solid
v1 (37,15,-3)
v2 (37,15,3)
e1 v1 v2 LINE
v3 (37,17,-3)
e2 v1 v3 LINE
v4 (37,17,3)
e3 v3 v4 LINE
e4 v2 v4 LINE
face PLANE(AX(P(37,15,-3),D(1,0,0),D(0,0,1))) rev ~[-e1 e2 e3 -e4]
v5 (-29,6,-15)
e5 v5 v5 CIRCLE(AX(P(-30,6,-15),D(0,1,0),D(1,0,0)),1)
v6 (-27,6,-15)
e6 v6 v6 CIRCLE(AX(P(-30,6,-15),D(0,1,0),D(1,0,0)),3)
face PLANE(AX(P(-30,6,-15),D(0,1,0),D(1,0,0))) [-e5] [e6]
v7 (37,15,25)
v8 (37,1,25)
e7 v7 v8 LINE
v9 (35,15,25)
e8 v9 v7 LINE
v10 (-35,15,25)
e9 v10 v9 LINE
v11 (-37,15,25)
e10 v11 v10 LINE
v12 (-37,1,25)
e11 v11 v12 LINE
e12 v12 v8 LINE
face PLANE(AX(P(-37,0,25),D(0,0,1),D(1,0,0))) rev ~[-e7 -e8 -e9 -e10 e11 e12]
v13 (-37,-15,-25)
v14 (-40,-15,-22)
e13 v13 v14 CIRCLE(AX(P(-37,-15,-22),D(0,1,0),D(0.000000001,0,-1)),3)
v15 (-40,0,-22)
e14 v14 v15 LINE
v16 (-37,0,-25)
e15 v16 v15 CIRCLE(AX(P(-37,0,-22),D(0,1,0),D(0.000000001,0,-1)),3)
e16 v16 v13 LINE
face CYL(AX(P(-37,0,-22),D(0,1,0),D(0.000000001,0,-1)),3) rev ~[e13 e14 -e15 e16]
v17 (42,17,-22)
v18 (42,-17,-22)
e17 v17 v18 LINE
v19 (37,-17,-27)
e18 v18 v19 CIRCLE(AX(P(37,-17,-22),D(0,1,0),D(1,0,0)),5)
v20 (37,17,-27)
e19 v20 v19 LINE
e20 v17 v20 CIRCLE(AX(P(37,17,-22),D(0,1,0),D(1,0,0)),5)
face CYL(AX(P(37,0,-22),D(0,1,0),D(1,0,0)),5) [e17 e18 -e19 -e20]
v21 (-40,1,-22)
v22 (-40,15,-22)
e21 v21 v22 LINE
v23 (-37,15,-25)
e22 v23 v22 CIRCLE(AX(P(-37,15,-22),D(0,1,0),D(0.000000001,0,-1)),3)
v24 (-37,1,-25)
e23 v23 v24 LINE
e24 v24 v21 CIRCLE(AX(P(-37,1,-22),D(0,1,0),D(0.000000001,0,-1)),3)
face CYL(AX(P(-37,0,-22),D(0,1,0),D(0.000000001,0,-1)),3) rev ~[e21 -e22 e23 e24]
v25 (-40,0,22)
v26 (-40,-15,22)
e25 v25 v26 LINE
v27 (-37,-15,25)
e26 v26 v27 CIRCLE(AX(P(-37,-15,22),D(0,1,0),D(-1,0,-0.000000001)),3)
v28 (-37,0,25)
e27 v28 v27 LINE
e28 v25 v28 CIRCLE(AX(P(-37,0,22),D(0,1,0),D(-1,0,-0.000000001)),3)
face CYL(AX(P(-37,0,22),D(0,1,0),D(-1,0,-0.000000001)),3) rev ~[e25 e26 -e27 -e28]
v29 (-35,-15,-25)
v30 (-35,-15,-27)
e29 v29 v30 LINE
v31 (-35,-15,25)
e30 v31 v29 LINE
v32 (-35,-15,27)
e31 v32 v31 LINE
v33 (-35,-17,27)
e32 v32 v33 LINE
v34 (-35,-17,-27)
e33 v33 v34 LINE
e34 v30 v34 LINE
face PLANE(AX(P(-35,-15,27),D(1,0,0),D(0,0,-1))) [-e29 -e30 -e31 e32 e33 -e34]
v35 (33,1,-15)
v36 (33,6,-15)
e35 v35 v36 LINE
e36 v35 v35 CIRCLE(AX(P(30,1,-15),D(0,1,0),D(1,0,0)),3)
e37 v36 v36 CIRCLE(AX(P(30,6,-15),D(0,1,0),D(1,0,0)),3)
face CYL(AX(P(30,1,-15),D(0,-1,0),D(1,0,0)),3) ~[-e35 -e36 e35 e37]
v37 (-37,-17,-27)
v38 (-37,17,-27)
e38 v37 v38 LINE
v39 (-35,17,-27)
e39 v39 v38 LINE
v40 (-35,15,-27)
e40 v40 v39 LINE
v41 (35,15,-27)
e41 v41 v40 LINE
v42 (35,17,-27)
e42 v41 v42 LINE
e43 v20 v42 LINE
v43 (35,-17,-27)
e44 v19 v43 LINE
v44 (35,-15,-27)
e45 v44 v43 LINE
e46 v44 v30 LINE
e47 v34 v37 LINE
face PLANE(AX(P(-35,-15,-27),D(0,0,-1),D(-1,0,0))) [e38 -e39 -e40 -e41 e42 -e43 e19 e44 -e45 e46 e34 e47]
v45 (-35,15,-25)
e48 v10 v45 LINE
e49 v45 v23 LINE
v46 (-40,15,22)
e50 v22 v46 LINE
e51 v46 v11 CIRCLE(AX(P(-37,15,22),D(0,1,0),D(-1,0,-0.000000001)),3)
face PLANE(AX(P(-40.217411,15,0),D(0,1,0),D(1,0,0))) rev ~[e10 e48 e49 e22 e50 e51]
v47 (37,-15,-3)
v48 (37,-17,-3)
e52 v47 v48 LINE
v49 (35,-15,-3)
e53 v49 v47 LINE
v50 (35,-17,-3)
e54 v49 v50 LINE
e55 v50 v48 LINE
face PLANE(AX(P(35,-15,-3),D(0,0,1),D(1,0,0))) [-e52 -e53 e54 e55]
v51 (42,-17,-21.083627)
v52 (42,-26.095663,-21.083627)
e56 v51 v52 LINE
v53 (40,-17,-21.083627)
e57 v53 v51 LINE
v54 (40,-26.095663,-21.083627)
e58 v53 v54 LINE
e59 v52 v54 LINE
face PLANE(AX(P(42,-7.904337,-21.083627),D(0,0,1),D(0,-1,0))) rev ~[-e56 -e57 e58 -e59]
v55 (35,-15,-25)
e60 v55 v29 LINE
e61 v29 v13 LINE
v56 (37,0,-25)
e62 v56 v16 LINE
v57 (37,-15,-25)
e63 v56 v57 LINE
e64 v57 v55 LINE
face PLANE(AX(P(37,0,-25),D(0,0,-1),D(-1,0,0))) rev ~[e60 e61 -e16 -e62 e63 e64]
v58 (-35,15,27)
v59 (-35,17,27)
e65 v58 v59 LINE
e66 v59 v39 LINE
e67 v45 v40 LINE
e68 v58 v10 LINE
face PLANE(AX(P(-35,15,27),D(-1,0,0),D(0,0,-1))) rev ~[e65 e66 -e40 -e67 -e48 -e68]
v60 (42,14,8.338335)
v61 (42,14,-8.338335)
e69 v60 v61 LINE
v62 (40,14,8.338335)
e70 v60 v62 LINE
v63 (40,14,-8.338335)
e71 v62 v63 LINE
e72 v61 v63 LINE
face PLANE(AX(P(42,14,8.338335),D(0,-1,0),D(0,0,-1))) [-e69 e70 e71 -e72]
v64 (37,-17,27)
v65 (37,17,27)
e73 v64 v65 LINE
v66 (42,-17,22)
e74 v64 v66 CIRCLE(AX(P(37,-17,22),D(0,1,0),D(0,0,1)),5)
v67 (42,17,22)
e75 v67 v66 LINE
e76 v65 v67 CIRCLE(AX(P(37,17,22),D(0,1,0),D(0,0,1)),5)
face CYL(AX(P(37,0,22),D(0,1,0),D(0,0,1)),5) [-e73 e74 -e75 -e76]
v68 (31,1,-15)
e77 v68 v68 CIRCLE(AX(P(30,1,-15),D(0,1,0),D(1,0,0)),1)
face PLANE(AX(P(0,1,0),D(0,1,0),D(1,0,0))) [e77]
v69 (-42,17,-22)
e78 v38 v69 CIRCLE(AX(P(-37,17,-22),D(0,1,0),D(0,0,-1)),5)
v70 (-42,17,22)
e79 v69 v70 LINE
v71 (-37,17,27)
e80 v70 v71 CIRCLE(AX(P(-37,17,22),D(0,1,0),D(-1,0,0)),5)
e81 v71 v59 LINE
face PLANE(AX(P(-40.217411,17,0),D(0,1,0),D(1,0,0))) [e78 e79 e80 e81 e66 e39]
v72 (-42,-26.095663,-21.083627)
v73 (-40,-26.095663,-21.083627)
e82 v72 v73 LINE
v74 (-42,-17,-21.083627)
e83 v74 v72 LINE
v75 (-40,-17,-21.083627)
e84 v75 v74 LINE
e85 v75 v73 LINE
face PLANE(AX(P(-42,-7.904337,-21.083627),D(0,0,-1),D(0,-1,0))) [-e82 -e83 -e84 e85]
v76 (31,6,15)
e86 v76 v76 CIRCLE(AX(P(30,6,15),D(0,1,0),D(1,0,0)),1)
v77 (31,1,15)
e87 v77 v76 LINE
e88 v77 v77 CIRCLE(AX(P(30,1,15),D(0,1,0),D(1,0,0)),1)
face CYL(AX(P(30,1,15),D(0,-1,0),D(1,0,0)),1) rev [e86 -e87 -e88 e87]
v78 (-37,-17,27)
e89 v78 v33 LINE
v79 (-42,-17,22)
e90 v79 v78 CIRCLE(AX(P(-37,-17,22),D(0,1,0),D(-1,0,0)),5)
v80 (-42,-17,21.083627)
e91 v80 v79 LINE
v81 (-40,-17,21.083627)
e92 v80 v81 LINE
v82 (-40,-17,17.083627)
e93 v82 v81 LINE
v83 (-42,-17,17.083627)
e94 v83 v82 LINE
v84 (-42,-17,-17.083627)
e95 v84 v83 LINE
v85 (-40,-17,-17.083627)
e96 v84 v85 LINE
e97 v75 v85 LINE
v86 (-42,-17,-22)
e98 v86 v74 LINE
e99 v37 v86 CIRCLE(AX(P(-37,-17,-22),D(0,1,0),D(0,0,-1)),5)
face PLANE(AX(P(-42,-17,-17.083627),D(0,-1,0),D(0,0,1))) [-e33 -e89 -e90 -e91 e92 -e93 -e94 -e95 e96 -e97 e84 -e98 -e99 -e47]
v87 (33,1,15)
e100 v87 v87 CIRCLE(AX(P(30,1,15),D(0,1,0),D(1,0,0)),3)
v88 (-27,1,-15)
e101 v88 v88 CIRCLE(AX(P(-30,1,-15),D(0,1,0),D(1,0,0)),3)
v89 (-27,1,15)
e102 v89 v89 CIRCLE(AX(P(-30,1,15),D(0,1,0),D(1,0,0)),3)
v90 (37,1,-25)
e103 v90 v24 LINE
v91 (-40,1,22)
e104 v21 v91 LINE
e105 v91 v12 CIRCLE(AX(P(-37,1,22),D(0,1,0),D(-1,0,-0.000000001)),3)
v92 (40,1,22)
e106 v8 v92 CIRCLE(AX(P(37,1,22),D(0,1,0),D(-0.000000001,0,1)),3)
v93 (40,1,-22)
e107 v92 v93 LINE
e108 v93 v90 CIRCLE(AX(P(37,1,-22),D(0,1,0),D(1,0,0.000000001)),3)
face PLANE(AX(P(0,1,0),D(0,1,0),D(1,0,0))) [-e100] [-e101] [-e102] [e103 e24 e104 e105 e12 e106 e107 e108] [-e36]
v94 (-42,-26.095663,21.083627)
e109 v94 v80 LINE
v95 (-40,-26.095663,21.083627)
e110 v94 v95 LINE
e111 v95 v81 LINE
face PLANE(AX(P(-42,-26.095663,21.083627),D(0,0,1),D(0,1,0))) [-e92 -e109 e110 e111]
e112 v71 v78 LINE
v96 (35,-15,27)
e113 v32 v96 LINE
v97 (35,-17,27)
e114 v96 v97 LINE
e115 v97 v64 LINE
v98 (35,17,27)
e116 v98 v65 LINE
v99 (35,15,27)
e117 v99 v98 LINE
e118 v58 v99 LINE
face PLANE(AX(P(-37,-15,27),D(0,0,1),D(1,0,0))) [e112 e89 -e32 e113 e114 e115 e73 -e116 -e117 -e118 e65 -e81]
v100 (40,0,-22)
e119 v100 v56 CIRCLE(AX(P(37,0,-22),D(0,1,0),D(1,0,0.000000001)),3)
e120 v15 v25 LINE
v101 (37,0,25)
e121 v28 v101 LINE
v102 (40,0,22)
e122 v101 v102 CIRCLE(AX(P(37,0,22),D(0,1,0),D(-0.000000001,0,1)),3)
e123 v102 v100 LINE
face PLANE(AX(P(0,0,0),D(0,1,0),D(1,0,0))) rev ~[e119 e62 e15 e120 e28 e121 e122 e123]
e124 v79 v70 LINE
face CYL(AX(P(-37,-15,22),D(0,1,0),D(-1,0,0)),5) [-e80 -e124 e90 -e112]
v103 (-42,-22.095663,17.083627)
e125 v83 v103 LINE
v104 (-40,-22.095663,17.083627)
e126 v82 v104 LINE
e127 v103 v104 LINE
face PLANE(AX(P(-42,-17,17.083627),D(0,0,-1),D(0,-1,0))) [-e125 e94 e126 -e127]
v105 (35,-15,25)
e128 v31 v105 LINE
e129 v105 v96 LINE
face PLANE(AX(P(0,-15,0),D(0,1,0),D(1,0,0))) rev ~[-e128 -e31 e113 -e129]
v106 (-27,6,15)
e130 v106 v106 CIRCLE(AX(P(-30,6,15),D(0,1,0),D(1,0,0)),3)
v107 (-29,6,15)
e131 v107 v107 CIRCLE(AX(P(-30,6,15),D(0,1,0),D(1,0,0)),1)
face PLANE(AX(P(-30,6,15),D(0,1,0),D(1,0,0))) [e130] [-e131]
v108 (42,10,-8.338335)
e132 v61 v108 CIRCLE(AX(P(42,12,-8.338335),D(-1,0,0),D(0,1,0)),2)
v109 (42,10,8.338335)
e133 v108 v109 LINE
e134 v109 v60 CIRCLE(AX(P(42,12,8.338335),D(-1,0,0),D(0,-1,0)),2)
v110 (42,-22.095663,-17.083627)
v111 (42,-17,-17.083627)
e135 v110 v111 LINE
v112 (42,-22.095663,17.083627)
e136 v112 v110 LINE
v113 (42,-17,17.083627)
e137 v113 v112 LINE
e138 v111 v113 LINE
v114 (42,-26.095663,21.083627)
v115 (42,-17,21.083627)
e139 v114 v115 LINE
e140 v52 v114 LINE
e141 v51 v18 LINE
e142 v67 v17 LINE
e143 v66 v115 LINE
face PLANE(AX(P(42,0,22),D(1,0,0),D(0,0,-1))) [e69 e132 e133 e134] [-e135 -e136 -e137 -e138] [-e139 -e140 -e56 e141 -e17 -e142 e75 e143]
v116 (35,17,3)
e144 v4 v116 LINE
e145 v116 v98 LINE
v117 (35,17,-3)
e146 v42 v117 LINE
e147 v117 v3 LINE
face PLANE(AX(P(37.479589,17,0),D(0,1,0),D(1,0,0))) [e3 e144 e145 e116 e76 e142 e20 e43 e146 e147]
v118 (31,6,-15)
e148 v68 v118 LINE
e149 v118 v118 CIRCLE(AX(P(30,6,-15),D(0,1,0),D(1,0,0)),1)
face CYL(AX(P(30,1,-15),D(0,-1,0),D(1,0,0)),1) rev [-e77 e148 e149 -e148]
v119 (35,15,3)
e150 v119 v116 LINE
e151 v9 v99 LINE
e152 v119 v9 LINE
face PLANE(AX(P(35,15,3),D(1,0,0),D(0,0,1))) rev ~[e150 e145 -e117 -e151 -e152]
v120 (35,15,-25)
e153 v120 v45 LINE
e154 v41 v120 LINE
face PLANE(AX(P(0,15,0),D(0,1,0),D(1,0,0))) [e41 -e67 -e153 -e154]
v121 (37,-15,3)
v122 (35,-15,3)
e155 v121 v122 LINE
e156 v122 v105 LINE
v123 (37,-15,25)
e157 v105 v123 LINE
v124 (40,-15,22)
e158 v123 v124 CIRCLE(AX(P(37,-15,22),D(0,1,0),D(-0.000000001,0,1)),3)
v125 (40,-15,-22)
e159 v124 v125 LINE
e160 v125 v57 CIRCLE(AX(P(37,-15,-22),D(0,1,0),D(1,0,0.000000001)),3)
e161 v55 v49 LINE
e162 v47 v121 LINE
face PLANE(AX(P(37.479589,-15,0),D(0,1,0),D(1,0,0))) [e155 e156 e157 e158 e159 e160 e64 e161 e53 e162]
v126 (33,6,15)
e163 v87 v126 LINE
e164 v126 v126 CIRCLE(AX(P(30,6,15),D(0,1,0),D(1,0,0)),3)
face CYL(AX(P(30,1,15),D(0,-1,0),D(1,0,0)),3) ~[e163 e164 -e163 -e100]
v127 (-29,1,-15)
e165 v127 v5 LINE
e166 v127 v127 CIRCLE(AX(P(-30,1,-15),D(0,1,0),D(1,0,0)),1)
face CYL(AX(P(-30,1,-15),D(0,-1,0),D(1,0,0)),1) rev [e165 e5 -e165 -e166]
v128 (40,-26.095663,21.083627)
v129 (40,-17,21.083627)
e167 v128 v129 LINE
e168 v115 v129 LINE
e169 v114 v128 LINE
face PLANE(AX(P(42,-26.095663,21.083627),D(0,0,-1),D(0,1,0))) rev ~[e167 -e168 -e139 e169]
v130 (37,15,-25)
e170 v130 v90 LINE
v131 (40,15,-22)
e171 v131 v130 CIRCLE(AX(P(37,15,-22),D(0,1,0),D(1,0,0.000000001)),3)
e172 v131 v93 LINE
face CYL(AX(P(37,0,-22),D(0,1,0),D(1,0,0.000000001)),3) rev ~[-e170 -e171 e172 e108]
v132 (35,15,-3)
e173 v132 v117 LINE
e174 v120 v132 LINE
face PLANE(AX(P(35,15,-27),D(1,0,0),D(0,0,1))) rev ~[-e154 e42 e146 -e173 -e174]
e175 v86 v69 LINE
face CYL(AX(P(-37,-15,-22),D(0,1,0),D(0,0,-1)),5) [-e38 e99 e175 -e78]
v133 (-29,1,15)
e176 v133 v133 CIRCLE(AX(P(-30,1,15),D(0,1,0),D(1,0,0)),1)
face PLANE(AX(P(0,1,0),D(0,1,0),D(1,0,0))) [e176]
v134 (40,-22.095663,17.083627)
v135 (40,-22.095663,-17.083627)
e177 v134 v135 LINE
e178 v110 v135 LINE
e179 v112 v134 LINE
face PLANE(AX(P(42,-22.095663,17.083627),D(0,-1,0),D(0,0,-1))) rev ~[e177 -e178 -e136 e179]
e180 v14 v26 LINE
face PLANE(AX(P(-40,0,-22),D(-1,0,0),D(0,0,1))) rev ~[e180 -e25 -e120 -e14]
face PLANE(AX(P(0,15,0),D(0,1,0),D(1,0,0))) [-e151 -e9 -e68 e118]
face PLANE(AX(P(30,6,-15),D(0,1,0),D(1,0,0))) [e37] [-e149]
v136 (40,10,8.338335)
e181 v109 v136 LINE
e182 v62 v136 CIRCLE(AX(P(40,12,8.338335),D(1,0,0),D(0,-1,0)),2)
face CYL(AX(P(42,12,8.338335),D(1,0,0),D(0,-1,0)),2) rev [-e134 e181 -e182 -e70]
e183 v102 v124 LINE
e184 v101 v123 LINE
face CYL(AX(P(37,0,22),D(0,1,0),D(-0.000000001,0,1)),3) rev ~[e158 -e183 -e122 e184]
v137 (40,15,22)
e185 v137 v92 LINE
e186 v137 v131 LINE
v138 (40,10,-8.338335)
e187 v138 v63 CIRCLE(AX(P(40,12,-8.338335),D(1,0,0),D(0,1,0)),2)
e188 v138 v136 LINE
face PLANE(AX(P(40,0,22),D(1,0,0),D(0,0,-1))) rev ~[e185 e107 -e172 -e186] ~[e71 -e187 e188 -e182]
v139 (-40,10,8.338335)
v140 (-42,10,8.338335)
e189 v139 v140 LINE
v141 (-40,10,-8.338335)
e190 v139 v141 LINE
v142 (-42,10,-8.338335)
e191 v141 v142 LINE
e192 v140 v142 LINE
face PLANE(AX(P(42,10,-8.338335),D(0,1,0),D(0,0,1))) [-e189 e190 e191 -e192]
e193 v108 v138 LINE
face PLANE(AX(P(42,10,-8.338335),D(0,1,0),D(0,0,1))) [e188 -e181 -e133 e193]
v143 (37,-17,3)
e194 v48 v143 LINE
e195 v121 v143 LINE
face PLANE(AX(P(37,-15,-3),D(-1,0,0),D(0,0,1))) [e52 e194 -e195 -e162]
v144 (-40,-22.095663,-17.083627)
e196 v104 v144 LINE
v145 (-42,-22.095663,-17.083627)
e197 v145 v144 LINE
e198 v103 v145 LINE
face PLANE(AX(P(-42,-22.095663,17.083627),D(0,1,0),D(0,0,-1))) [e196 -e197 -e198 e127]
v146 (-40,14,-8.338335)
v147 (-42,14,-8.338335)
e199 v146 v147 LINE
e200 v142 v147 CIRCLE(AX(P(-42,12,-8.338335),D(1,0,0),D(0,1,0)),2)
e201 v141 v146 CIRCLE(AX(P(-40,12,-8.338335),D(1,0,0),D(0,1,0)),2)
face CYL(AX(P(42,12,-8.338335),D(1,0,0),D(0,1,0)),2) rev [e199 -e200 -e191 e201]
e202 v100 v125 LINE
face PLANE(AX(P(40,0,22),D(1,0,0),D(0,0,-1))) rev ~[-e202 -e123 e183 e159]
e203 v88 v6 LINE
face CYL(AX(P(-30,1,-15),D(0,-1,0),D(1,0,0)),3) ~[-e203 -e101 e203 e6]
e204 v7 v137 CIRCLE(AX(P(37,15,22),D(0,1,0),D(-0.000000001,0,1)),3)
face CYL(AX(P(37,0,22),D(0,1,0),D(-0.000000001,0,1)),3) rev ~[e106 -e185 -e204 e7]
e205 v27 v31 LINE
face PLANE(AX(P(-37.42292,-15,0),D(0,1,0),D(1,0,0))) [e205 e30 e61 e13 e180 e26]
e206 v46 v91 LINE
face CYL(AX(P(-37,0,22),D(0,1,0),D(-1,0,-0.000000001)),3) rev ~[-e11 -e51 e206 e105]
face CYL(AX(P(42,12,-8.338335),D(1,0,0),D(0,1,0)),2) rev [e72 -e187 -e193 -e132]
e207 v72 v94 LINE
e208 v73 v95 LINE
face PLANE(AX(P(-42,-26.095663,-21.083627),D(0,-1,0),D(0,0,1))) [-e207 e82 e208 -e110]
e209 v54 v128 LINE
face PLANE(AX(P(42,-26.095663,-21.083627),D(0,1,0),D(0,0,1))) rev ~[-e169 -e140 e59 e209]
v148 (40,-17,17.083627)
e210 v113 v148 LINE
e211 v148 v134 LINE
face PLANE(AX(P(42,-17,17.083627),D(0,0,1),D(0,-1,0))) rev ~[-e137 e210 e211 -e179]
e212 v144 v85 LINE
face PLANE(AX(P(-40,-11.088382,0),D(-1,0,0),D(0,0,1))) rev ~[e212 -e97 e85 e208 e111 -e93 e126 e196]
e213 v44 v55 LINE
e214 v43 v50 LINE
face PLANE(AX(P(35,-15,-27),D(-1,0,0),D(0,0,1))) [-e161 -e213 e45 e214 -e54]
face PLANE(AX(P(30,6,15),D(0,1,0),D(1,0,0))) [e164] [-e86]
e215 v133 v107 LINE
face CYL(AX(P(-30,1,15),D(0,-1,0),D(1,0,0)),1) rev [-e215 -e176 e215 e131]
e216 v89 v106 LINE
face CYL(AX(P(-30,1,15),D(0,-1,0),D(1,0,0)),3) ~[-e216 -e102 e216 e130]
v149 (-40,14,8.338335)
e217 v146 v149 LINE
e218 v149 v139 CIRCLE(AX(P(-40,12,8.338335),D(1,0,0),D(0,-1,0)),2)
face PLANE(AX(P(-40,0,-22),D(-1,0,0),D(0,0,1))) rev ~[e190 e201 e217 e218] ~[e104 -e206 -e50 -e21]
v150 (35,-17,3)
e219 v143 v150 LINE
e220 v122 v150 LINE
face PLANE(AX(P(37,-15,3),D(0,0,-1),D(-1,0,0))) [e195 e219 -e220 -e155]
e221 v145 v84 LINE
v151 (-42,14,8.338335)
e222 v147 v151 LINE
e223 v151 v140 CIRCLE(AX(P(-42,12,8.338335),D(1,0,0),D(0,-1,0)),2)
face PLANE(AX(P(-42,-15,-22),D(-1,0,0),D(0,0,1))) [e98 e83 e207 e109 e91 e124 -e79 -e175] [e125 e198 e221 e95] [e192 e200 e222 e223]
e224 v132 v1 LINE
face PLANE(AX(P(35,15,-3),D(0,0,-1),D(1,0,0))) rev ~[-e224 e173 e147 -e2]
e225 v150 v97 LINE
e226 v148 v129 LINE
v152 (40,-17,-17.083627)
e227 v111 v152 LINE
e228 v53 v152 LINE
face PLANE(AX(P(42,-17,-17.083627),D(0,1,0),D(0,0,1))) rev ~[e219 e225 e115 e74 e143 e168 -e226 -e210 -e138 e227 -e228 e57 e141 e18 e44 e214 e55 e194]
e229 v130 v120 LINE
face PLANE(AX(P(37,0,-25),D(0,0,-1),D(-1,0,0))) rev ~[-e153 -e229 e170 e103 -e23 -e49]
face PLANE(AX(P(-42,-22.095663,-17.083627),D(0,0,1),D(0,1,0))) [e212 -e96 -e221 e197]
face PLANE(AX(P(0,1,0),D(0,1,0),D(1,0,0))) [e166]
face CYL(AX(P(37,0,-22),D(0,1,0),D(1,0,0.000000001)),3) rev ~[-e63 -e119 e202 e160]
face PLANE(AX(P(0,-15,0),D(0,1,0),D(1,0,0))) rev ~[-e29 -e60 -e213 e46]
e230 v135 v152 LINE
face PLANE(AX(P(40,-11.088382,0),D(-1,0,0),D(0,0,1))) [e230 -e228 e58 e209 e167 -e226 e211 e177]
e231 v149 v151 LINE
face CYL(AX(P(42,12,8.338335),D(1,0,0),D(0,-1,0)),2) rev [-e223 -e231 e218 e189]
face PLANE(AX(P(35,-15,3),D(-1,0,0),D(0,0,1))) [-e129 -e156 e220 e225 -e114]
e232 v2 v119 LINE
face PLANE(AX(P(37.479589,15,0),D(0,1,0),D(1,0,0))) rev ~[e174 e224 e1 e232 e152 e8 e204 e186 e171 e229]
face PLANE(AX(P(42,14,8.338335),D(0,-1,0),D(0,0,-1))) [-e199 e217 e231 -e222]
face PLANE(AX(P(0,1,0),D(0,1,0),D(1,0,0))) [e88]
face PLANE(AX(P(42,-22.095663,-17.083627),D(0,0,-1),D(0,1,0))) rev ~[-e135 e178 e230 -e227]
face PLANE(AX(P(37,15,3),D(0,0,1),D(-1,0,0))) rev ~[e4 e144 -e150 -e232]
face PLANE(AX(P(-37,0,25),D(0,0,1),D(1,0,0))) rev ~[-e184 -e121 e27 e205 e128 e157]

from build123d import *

# Parameters (mm, degrees)
EXTRUDE_THIN1_DEPTH      = 15
EXTRUDE_THIN1_DEPTH_BACK = 15
BOSS_EXTRUDE1_DEPTH      = 1
SKETCH3_R                = 3
SKETCH3_R_2              = 1
BOSS_EXTRUDE2_DEPTH      = 5
BOSS_EXTRUDE3_DEPTH      = 2
BOSS_EXTRUDE4_START      = -30
BOSS_EXTRUDE4_DEPTH      = 2
SKETCH5_W                = 34.167254682
SKETCH5_H                = 5.095662734
BOSS_EXTRUDE5_DEPTH      = 2
BOSS_EXTRUDE6_START      = -84
SKETCH5_3_W              = 34.167254682
SKETCH5_3_H              = 5.095662734
BOSS_EXTRUDE6_DEPTH      = 2
CUT_EXTRUDE1_DEPTH       = 85


with BuildPart() as part:
    # Sketch1 → Extrude-Thin1 (new body, two sides)
    with BuildSketch(Plane(origin=(0, 0, 0), x_dir=(1, 0, 0), z_dir=(0, 1, 0))) as extrude_thin1_sk:
        with BuildLine():
            Line((-42, 22), (-42, -22))
            ThreePointArc((-42, -22), (-40.535533906, -25.535533906), (-37, -27))
            Line((-37, -27), (37, -27))
            ThreePointArc((37, -27), (40.535533906, -25.535533906), (42, -22))
            Line((42, -22), (42, 22))
            ThreePointArc((42, 22), (40.535533906, 25.535533906), (37, 27))
            Line((37, 27), (-37, 27))
            ThreePointArc((-37, 27), (-40.535533906, 25.535533906), (-42, 22))
        make_face()
        with BuildLine():
            Line((-40, 22), (-40, -22))
            ThreePointArc((-40, -22), (-39.121320344, -24.121320344), (-37, -25))
            Line((-37, -25), (37, -25))
            ThreePointArc((37, -25), (39.121320344, -24.121320344), (40, -22))
            Line((40, -22), (40, 22))
            ThreePointArc((40, 22), (39.121320344, 24.121320344), (37, 25))
            Line((37, 25), (-37, 25))
            ThreePointArc((-37, 25), (-39.121320344, 24.121320344), (-40, 22))
        make_face(mode=Mode.SUBTRACT)
    extrude(amount=EXTRUDE_THIN1_DEPTH)
    extrude(extrude_thin1_sk.sketch, amount=-EXTRUDE_THIN1_DEPTH_BACK)

    # Sketch1<2> → Boss-Extrude1 (add)
    with BuildSketch(Plane(origin=(0, 0, 0), x_dir=(1, 0, 0), z_dir=(0, 1, 0))):
        with BuildLine():
            Line((-37, -25), (37, -25))
            ThreePointArc((37, -25), (39.121320344, -24.121320344), (40, -22))
            Line((40, -22), (40, 22))
            ThreePointArc((40, 22), (39.121320344, 24.121320344), (37, 25))
            Line((37, 25), (-37, 25))
            ThreePointArc((-37, 25), (-39.121320344, 24.121320344), (-40, 22))
            Line((-40, 22), (-40, -22))
            ThreePointArc((-40, -22), (-39.121320344, -24.121320344), (-37, -25))
        make_face()
    extrude(amount=BOSS_EXTRUDE1_DEPTH)

    # Sketch3 → Boss-Extrude2 (add)
    with BuildSketch(Plane(origin=(0, 1, 0), x_dir=(1, 0, 0), z_dir=(0, 1, 0))):
        with Locations((-30, 15)):
            Circle(SKETCH3_R)
        with Locations((-30, 15)):
            Circle(SKETCH3_R_2, mode=Mode.SUBTRACT)
        with Locations((30, 15)):
            Circle(SKETCH3_R)
        with Locations((30, 15)):
            Circle(SKETCH3_R_2, mode=Mode.SUBTRACT)
        with Locations((30, -15)):
            Circle(SKETCH3_R)
        with Locations((30, -15)):
            Circle(SKETCH3_R_2, mode=Mode.SUBTRACT)
        with Locations((-30, -15)):
            Circle(SKETCH3_R)
        with Locations((-30, -15)):
            Circle(SKETCH3_R_2, mode=Mode.SUBTRACT)
    extrude(amount=BOSS_EXTRUDE2_DEPTH)

    # Sketch4 → Boss-Extrude3 (add)
    with BuildSketch(Plane(origin=(0, 15, 0), x_dir=(1, 0, 0), z_dir=(0, 1, 0))):
        with BuildLine():
            Line((-35, 25), (-35, 27))
            Line((-35, 27), (-37, 27))
            ThreePointArc((-37, 27), (-40.535533906, 25.535533906), (-42, 22))
            Line((-42, 22), (-42, -22))
            ThreePointArc((-42, -22), (-40.535533906, -25.535533906), (-37, -27))
            Line((-37, -27), (-35, -27))
            Line((-35, -27), (-35, -25))
            Line((-35, -25), (-37, -25))
            ThreePointArc((-37, -25), (-39.121320344, -24.121320344), (-40, -22))
            Line((-40, -22), (-40, 22))
            ThreePointArc((-40, 22), (-39.121320344, 24.121320344), (-37, 25))
            Line((-37, 25), (-35, 25))
        make_face()
        with BuildLine():
            Line((-35, -25), (-35, 25))
            Line((-35, 25), (-37, 25))
            ThreePointArc((-37, 25), (-39.121320344, 24.121320344), (-40, 22))
            Line((-40, 22), (-40, -22))
            ThreePointArc((-40, -22), (-39.121320344, -24.121320344), (-37, -25))
            Line((-37, -25), (-35, -25))
        make_face()
        with BuildLine():
            Line((37, 25), (35, 25))
            Line((35, 25), (35, 3))
            Line((35, 3), (37, 3))
            Line((37, 3), (37, -3))
            Line((37, -3), (35, -3))
            Line((35, -3), (35, -25))
            Line((35, -25), (37, -25))
            ThreePointArc((37, -25), (39.121320344, -24.121320344), (40, -22))
            Line((40, -22), (40, 22))
            ThreePointArc((40, 22), (39.121320344, 24.121320344), (37, 25))
        make_face()
        with BuildLine():
            Line((37, 27), (35, 27))
            Line((35, 27), (35, 25))
            Line((35, 25), (37, 25))
            ThreePointArc((37, 25), (39.121320344, 24.121320344), (40, 22))
            Line((40, 22), (40, -22))
            ThreePointArc((40, -22), (39.121320344, -24.121320344), (37, -25))
            Line((37, -25), (35, -25))
            Line((35, -25), (35, -27))
            Line((35, -27), (37, -27))
            ThreePointArc((37, -27), (40.535533906, -25.535533906), (42, -22))
            Line((42, -22), (42, 22))
            ThreePointArc((42, 22), (40.535533906, 25.535533906), (37, 27))
        make_face()
    extrude(amount=BOSS_EXTRUDE3_DEPTH)

    # Sketch4<3> → Boss-Extrude4 (add)
    with BuildSketch(Plane(origin=(0, 15, 0), x_dir=(1, 0, 0), z_dir=(0, 1, 0)).offset(BOSS_EXTRUDE4_START)):
        with BuildLine():
            Line((-35, -25), (-35, 25))
            Line((-35, 25), (-37, 25))
            ThreePointArc((-37, 25), (-39.121320344, 24.121320344), (-40, 22))
            Line((-40, 22), (-40, -22))
            ThreePointArc((-40, -22), (-39.121320344, -24.121320344), (-37, -25))
            Line((-37, -25), (-35, -25))
        make_face()
        with BuildLine():
            Line((-35, 25), (-35, 27))
            Line((-35, 27), (-37, 27))
            ThreePointArc((-37, 27), (-40.535533906, 25.535533906), (-42, 22))
            Line((-42, 22), (-42, -22))
            ThreePointArc((-42, -22), (-40.535533906, -25.535533906), (-37, -27))
            Line((-37, -27), (-35, -27))
            Line((-35, -27), (-35, -25))
            Line((-35, -25), (-37, -25))
            ThreePointArc((-37, -25), (-39.121320344, -24.121320344), (-40, -22))
            Line((-40, -22), (-40, 22))
            ThreePointArc((-40, 22), (-39.121320344, 24.121320344), (-37, 25))
            Line((-37, 25), (-35, 25))
        make_face()
        with BuildLine():
            Line((37, 25), (35, 25))
            Line((35, 25), (35, 3))
            Line((35, 3), (37, 3))
            Line((37, 3), (37, -3))
            Line((37, -3), (35, -3))
            Line((35, -3), (35, -25))
            Line((35, -25), (37, -25))
            ThreePointArc((37, -25), (39.121320344, -24.121320344), (40, -22))
            Line((40, -22), (40, 22))
            ThreePointArc((40, 22), (39.121320344, 24.121320344), (37, 25))
        make_face()
        with BuildLine():
            Line((37, 27), (35, 27))
            Line((35, 27), (35, 25))
            Line((35, 25), (37, 25))
            ThreePointArc((37, 25), (39.121320344, 24.121320344), (40, 22))
            Line((40, 22), (40, -22))
            ThreePointArc((40, -22), (39.121320344, -24.121320344), (37, -25))
            Line((37, -25), (35, -25))
            Line((35, -25), (35, -27))
            Line((35, -27), (37, -27))
            ThreePointArc((37, -27), (40.535533906, -25.535533906), (42, -22))
            Line((42, -22), (42, 22))
            ThreePointArc((42, 22), (40.535533906, 25.535533906), (37, 27))
        make_face()
    extrude(amount=-BOSS_EXTRUDE4_DEPTH)

    # Sketch5 → Boss-Extrude5 (add)
    with BuildSketch(Plane.ZY.offset(42)):
        Polygon((21.083627341, -7.904337266), (-21.083627341, -7.904337266), (-21.083627341, -17), (-17.083627341, -17), (-17.083627341, -11.904337266), (17.083627341, -11.904337266), (17.083627341, -17), (21.083627341, -17), align=None)
        Polygon((-17.083627341, -17), (-21.083627341, -17), (-21.083627341, -26.095662734), (21.083627341, -26.095662734), (21.083627341, -17), (17.083627341, -17), (17.083627341, -22.095662734), (-17.083627341, -22.095662734), align=None)
        with Locations((0, -14.452168633)):
            Rectangle(SKETCH5_W, SKETCH5_H)
    extrude(amount=-BOSS_EXTRUDE5_DEPTH)

    # Sketch5<3> → Boss-Extrude6 (add)
    with BuildSketch(Plane.ZY.offset(42).offset(BOSS_EXTRUDE6_START)):
        Polygon((21.083627341, -7.904337266), (-21.083627341, -7.904337266), (-21.083627341, -17), (-17.083627341, -17), (-17.083627341, -11.904337266), (17.083627341, -11.904337266), (17.083627341, -17), (21.083627341, -17), align=None)
        with Locations((0, -14.452168633)):
            Rectangle(SKETCH5_3_W, SKETCH5_3_H)
        Polygon((-17.083627341, -17), (-21.083627341, -17), (-21.083627341, -26.095662734), (21.083627341, -26.095662734), (21.083627341, -17), (17.083627341, -17), (17.083627341, -22.095662734), (-17.083627341, -22.095662734), align=None)
    extrude(amount=BOSS_EXTRUDE6_DEPTH)

    # Sketch7 → Cut-Extrude1 (cut, through all)
    with BuildSketch(Plane(origin=(42, 0, 0), x_dir=(0, 0, -1), z_dir=(1, 0, 0))):
        with BuildLine():
            Line((-8.338334794, 14), (8.338334794, 14))
            ThreePointArc((8.338334794, 14), (10.338334794, 12), (8.338334794, 10))
            Line((8.338334794, 10), (-8.338334794, 10))
            ThreePointArc((-8.338334794, 10), (-10.338334794, 12), (-8.338334794, 14))
        make_face()
    extrude(amount=-CUT_EXTRUDE1_DEPTH, mode=Mode.SUBTRACT)


solid = part.part
